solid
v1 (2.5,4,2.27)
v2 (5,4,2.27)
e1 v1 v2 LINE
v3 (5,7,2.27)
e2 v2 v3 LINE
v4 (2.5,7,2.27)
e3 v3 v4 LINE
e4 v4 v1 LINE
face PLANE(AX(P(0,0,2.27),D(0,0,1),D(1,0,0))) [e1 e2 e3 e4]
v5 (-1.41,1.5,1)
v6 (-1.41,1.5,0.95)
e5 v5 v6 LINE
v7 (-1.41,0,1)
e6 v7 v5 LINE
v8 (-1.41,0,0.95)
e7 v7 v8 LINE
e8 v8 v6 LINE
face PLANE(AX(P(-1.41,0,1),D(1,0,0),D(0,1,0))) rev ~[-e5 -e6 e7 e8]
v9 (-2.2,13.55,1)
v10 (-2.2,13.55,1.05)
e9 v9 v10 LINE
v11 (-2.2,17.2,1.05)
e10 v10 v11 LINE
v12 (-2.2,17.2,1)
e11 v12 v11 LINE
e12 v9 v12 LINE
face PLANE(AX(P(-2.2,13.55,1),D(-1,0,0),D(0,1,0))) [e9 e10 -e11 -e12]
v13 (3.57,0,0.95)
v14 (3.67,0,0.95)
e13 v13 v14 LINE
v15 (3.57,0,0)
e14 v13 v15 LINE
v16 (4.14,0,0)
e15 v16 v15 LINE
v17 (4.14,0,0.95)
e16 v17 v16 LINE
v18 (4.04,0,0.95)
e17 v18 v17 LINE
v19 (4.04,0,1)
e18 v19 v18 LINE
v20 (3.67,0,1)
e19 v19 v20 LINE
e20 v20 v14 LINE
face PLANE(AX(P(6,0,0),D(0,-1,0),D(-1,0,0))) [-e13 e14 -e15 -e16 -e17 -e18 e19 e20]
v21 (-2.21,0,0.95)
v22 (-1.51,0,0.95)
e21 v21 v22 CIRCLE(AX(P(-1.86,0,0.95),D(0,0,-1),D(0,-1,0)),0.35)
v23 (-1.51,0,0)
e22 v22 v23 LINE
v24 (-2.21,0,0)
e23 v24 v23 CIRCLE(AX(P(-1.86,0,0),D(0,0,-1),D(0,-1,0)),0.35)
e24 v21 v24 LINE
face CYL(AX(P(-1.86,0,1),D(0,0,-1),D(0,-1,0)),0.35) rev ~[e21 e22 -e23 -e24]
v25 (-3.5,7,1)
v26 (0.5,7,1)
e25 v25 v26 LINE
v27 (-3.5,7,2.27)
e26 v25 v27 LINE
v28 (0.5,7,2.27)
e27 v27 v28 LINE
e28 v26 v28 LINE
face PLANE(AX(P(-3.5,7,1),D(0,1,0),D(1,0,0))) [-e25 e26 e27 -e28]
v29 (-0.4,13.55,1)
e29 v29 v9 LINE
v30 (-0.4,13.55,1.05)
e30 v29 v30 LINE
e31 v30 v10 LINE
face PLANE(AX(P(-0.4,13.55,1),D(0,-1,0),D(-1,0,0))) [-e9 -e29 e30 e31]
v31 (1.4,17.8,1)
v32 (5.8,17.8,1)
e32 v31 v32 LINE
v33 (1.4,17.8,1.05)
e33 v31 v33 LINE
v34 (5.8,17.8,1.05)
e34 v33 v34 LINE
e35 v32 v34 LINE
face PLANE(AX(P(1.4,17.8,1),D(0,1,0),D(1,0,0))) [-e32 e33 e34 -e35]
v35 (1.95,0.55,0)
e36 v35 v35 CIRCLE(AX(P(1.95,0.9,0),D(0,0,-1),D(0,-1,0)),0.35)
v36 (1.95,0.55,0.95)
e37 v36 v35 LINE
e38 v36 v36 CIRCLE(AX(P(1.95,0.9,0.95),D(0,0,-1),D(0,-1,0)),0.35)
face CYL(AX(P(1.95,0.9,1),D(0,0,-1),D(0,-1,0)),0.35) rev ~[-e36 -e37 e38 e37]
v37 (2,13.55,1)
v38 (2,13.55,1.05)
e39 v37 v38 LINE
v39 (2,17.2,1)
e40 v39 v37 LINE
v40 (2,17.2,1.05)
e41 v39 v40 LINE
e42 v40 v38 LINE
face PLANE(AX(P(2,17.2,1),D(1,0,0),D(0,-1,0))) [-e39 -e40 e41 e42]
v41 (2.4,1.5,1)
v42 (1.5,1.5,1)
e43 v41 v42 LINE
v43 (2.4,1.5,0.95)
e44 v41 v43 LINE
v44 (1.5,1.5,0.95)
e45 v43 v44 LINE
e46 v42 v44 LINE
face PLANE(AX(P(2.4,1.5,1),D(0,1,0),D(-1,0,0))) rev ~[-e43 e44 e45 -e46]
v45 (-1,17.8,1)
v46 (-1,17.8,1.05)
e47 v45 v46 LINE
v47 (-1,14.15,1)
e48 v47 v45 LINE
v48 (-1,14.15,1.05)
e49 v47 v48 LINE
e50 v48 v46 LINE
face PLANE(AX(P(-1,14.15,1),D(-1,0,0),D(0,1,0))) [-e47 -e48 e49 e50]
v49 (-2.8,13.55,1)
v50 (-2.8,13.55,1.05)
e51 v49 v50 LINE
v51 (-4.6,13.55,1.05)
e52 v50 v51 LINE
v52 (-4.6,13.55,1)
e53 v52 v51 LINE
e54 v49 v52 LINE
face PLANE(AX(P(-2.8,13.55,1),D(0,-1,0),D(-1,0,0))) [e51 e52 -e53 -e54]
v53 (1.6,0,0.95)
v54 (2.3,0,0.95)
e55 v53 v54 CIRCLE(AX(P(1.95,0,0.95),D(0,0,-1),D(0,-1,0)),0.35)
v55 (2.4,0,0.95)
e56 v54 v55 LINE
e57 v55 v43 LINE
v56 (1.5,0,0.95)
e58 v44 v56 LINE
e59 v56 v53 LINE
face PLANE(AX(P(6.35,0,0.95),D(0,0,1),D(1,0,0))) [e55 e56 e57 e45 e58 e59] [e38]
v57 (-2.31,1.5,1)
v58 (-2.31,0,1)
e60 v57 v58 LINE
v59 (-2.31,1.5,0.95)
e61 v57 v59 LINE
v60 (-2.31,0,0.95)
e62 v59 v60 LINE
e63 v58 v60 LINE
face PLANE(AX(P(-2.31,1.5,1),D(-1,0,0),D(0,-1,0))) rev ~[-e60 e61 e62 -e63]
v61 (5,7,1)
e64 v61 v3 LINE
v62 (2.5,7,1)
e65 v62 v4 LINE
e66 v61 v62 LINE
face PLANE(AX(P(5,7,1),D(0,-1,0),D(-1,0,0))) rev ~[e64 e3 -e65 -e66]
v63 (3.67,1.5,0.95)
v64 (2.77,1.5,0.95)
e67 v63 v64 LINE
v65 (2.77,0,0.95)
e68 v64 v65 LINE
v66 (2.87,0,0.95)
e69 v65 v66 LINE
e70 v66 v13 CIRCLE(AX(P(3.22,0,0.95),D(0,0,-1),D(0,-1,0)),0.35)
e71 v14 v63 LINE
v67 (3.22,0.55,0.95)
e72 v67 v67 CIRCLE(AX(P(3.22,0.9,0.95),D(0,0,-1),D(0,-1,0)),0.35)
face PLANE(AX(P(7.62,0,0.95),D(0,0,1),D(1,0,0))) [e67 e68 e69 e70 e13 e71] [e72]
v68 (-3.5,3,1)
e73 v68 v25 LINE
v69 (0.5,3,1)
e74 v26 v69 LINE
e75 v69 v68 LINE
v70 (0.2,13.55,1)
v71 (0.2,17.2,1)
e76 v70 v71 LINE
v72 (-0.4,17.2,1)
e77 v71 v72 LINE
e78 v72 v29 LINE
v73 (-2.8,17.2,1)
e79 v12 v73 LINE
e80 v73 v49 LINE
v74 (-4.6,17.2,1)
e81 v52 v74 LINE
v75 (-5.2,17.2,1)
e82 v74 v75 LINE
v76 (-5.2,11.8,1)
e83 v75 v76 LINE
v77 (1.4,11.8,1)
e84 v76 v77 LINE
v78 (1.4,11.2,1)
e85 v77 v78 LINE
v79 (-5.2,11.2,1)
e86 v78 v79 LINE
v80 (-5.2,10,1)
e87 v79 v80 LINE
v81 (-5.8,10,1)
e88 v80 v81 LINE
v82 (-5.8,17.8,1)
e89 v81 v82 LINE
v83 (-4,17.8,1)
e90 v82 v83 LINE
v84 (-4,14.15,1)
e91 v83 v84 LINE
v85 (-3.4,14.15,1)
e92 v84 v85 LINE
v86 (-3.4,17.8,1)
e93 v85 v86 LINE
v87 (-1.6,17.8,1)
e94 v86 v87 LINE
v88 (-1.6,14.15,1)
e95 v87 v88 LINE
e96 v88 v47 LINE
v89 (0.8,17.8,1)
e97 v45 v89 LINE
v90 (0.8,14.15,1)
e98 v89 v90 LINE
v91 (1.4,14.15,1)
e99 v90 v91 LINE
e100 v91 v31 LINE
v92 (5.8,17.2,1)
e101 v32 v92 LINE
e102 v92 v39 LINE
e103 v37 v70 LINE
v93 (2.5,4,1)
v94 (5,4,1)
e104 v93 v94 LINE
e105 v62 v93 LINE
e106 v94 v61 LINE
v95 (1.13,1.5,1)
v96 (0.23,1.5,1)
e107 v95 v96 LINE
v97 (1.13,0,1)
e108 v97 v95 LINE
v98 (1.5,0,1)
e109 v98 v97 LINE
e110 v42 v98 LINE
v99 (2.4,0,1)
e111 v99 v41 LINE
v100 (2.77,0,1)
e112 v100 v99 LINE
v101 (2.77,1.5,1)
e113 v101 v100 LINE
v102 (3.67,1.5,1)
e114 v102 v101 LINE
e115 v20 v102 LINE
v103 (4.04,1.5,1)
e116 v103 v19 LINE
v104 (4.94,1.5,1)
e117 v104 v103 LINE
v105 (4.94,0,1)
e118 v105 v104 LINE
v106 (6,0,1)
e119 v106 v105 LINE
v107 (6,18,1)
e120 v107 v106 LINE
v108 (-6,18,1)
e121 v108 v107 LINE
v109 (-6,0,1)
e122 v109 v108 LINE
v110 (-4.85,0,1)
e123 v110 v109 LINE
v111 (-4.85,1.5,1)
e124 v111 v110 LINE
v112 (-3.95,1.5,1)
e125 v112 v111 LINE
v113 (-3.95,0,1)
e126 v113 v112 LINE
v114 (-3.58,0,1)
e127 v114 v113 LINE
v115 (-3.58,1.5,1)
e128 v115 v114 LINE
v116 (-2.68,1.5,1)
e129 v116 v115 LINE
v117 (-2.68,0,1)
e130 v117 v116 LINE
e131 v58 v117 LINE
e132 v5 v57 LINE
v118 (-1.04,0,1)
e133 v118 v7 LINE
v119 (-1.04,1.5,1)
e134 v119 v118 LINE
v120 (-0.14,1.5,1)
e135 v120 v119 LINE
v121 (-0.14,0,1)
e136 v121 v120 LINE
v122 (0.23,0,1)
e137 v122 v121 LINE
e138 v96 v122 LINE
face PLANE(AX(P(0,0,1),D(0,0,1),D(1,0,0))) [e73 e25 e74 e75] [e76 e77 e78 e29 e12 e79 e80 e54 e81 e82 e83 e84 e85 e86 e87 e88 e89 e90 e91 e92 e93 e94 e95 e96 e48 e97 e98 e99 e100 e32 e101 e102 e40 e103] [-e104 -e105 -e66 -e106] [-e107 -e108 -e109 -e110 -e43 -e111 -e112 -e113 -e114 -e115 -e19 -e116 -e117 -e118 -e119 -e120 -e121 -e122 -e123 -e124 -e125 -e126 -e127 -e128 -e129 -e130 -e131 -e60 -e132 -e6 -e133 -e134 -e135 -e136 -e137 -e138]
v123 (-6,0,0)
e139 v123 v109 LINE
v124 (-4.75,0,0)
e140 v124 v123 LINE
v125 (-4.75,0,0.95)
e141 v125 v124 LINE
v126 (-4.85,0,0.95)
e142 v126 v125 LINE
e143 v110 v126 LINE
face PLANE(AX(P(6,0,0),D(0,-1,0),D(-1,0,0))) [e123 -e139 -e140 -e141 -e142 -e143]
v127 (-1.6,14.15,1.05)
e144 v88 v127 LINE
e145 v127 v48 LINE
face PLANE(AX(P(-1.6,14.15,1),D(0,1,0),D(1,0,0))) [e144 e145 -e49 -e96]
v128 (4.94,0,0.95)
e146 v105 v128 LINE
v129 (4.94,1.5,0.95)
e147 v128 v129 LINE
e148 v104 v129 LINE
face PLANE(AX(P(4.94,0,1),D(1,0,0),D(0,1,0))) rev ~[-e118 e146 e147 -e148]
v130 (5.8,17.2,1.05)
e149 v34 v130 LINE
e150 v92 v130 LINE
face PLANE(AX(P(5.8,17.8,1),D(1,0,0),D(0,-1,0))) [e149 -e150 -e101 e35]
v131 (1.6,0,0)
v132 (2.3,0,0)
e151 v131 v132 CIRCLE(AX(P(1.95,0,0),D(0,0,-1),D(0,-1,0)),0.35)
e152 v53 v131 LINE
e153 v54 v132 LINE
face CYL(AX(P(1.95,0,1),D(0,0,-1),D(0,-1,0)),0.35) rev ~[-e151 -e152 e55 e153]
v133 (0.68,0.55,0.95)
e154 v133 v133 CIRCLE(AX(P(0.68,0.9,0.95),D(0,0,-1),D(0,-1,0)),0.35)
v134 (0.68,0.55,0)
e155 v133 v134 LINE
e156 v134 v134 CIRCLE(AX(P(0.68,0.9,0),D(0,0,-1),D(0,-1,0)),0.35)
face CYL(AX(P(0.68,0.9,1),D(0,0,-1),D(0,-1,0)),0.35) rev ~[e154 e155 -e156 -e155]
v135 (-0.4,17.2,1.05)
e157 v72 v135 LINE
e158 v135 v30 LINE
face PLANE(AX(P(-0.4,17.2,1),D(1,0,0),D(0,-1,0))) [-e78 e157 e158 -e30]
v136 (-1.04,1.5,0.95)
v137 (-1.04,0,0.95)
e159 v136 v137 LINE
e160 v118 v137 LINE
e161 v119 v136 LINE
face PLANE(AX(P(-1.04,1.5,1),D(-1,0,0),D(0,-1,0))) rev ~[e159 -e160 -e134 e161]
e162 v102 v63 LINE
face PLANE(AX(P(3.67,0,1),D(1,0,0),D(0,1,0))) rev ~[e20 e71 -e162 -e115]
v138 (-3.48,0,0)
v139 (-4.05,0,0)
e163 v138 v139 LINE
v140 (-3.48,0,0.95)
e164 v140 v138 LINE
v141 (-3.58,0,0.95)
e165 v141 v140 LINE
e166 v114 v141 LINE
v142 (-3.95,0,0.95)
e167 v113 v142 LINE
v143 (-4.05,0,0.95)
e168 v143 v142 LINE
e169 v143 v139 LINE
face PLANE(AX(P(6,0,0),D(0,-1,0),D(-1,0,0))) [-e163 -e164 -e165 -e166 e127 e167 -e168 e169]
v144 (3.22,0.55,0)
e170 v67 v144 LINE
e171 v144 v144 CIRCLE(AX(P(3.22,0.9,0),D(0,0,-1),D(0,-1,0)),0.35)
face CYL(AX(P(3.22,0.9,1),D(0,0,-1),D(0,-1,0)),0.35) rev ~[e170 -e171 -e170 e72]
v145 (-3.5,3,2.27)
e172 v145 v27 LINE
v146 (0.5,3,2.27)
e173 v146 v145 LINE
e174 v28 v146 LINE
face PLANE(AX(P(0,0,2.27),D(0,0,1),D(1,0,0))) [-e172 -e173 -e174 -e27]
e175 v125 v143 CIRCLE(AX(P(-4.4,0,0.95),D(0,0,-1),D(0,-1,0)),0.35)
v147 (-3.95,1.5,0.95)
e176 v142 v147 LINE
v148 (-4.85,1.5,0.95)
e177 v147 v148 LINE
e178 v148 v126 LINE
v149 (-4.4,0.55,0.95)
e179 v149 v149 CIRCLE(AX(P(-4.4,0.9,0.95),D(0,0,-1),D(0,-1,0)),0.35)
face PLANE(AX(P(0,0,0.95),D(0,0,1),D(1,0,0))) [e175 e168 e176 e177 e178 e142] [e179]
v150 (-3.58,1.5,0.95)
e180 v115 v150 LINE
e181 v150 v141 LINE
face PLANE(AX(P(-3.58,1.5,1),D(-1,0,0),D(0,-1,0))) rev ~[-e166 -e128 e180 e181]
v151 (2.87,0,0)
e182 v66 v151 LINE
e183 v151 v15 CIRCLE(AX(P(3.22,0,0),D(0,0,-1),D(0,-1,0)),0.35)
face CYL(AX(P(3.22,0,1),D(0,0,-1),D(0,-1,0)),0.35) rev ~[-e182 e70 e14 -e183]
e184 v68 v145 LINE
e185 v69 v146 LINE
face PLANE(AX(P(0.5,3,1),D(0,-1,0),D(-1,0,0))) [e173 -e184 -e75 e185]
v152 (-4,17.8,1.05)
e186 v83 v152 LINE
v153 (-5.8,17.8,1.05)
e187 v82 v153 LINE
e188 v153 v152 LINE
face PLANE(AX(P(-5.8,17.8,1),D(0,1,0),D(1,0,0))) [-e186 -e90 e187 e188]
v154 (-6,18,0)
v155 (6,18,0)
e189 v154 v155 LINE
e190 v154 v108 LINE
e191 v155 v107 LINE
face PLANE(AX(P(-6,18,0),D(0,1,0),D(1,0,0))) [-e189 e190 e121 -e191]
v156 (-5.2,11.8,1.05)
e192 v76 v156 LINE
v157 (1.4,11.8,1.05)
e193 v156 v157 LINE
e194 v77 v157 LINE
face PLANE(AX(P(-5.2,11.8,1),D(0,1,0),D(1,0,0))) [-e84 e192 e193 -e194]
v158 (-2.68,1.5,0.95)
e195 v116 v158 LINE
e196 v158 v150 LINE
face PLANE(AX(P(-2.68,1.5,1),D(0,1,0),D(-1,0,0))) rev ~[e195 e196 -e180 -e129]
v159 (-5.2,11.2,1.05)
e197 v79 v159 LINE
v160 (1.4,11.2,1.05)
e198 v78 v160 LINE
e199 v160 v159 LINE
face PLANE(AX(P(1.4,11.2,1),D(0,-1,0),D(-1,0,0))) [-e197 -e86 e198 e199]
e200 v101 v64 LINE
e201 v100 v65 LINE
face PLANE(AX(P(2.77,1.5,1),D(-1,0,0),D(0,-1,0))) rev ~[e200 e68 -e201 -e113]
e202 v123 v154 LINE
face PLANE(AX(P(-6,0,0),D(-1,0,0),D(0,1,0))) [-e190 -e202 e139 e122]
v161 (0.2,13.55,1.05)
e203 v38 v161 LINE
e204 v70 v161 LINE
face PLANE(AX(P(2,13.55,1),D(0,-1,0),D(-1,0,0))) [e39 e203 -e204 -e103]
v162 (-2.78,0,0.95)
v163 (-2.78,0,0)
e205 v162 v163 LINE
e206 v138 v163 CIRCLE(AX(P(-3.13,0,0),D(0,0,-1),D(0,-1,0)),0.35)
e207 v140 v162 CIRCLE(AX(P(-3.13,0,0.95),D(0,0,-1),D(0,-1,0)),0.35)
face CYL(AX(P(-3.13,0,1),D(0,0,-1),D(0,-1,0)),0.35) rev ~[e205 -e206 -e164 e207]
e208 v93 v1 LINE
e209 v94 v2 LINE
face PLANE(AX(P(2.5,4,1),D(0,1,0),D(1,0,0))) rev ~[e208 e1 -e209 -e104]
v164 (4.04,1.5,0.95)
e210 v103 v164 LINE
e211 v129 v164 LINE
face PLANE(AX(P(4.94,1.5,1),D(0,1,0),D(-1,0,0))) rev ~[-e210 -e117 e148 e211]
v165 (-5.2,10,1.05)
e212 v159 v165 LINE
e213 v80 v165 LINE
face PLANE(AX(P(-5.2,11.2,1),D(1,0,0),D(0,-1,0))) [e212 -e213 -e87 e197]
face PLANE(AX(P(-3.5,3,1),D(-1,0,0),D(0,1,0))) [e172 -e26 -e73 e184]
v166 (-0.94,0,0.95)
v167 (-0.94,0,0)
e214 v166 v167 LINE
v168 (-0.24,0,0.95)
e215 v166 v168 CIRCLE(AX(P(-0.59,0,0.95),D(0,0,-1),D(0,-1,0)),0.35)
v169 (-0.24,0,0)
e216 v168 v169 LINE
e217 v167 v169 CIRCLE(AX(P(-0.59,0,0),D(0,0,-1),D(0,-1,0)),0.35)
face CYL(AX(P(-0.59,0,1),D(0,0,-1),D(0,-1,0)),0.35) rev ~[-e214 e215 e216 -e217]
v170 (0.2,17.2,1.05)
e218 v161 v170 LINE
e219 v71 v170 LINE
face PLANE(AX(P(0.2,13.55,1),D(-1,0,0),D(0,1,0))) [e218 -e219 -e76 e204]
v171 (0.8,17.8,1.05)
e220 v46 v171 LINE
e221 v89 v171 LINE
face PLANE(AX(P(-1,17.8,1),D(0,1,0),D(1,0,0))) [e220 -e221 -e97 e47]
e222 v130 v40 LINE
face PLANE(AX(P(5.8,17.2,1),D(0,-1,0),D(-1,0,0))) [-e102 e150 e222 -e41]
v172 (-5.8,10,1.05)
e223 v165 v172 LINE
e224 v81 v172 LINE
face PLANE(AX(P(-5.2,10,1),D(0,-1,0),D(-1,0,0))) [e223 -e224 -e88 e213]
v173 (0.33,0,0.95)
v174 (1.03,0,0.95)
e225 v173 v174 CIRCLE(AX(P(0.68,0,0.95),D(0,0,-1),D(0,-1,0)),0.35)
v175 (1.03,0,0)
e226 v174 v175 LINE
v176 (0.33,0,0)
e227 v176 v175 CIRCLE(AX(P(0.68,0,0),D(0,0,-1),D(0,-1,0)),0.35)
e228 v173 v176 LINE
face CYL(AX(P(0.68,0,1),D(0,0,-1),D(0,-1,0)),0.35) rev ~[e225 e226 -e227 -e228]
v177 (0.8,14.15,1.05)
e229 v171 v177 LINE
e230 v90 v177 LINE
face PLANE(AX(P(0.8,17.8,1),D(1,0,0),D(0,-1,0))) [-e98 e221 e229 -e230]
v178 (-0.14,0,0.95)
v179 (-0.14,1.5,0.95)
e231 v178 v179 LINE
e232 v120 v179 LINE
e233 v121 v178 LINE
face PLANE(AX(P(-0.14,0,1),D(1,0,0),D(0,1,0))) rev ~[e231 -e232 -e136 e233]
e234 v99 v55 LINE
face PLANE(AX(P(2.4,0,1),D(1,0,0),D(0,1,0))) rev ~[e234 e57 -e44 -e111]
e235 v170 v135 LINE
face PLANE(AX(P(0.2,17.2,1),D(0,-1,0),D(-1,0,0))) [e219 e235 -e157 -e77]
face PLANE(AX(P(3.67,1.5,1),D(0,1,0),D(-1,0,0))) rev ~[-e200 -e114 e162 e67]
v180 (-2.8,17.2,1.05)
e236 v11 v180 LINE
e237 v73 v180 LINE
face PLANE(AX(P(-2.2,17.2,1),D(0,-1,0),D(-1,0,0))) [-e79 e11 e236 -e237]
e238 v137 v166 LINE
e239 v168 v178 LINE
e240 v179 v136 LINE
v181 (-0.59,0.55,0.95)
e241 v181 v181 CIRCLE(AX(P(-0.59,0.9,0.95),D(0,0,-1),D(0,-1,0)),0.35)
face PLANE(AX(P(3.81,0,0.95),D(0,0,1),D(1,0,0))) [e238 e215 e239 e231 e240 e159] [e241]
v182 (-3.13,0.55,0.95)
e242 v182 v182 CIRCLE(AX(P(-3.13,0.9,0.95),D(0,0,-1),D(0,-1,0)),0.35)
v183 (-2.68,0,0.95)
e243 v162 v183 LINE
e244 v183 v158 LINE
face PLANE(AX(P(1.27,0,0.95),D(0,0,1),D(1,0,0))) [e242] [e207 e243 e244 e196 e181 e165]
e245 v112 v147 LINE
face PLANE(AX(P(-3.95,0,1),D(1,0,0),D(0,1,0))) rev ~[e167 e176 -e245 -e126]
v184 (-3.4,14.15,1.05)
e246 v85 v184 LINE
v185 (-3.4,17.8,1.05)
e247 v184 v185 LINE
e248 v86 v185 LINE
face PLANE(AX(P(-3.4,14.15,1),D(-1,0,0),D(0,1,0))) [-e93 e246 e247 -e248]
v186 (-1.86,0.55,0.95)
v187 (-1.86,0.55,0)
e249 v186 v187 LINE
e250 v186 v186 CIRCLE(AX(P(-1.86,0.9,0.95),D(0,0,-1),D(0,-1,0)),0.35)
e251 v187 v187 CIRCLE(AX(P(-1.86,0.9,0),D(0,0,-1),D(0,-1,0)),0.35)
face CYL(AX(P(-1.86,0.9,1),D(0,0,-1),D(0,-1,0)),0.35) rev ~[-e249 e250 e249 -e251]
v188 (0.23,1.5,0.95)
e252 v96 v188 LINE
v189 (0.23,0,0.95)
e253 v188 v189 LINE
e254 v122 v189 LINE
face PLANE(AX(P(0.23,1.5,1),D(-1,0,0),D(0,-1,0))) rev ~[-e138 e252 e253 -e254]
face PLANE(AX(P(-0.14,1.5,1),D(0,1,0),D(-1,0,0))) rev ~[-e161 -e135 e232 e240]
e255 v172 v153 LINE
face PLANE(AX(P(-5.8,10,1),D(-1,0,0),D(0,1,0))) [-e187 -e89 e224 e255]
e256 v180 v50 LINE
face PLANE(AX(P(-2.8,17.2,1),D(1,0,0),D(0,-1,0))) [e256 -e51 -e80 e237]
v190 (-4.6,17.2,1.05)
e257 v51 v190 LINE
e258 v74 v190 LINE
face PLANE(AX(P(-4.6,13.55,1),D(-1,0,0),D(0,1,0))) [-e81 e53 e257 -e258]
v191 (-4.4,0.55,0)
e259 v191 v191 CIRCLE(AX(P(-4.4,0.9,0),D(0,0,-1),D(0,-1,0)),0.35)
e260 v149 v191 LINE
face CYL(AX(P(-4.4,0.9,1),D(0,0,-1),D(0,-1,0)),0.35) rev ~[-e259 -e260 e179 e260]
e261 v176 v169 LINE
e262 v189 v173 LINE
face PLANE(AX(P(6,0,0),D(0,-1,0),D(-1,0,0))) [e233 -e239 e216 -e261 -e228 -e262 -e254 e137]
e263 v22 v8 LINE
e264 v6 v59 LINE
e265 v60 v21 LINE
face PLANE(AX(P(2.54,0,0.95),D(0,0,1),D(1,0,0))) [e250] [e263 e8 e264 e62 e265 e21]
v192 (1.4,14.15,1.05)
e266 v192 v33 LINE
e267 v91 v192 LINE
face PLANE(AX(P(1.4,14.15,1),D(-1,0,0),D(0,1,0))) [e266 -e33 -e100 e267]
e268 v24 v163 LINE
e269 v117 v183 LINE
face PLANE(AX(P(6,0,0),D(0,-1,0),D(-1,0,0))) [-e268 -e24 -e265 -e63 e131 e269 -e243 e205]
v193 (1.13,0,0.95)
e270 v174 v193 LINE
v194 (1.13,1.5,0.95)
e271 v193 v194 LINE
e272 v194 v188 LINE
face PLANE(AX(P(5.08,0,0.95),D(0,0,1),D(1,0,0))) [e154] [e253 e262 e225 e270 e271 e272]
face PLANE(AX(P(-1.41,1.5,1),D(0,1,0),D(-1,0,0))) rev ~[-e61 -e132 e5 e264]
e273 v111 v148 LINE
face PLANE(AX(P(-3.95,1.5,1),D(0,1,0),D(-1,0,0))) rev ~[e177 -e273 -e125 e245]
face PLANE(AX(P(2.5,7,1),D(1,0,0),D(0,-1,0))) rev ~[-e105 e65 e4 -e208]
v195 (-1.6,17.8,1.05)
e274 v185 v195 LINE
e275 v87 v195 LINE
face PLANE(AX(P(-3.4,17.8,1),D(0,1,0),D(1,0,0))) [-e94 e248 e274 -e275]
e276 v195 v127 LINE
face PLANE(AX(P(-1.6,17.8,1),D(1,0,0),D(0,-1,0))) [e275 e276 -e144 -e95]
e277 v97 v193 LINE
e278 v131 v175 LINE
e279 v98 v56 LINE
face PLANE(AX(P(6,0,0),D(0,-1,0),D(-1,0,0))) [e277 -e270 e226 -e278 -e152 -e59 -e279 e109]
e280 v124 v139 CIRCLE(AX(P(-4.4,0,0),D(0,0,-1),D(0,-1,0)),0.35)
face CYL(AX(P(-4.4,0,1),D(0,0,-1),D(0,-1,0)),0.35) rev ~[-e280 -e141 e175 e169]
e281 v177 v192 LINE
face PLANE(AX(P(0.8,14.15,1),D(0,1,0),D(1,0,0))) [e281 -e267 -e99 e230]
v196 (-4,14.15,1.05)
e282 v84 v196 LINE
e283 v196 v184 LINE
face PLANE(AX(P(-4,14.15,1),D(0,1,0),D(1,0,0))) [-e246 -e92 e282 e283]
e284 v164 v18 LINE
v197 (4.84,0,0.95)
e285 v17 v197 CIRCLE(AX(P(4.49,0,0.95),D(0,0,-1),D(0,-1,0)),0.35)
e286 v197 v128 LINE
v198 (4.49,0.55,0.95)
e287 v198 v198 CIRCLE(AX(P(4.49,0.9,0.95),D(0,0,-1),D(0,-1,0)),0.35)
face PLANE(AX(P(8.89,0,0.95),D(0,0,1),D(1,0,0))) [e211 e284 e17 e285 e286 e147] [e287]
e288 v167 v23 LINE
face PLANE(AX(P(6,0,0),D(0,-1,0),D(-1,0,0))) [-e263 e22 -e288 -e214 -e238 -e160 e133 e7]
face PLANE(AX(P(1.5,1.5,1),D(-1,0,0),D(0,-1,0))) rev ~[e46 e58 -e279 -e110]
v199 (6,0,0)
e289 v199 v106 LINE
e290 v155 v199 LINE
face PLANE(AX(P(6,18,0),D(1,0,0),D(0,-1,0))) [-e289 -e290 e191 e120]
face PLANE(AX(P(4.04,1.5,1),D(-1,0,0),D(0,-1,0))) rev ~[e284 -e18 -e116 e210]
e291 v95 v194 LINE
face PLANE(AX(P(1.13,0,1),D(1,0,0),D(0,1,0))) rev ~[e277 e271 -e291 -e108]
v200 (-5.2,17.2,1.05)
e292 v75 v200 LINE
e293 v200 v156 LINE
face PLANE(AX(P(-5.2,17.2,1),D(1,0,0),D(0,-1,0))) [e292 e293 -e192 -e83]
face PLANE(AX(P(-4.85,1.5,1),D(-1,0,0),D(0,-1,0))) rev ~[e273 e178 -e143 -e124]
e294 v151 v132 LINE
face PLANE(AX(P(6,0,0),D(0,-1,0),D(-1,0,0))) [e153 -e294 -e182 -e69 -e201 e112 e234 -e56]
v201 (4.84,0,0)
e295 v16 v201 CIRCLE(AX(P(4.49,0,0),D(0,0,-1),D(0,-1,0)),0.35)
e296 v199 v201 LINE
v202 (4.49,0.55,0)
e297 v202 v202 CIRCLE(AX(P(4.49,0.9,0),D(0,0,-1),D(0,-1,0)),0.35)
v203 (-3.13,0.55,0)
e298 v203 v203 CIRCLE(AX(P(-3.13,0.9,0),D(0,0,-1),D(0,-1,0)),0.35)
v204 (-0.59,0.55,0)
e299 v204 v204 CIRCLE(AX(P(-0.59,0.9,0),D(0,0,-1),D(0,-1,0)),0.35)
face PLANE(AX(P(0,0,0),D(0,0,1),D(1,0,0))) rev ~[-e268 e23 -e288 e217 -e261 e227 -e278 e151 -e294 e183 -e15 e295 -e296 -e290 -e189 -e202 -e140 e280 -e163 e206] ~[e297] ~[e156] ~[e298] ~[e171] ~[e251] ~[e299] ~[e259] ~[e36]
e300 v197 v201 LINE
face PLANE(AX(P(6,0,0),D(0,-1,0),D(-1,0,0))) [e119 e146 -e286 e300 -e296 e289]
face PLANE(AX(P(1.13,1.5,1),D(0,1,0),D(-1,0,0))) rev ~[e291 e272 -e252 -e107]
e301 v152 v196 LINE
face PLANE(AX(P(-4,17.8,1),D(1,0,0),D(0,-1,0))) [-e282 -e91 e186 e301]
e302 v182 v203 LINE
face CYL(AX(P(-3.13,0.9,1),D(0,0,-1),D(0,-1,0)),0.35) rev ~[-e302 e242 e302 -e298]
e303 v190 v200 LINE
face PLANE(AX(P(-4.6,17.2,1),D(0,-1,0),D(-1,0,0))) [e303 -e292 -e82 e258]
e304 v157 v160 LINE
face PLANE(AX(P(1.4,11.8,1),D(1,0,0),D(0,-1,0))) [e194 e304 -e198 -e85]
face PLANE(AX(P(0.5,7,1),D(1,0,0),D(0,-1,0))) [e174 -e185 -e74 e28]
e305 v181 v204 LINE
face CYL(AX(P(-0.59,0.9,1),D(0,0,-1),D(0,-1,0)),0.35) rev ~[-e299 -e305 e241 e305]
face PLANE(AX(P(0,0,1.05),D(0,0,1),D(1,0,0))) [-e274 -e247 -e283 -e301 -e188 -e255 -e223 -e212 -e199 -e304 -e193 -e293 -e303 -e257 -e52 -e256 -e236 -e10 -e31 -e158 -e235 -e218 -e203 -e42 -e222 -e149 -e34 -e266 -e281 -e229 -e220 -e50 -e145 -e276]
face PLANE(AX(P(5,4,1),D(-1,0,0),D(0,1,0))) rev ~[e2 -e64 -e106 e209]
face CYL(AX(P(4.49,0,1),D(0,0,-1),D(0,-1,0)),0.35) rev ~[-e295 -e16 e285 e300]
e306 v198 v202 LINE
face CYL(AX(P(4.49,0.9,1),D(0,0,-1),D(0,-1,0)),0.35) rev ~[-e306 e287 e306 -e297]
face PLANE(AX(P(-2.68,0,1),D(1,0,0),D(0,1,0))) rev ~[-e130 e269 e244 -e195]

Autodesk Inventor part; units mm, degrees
ref_plane "YZ Plane" through (0, 0, 0) normal (1, 0, 0) x (0, 1, 0)
ref_plane "XZ Plane" through (0, 0, 0) normal (0, 1, 0) x (-1, 0, 0)
ref_plane "XY Plane" through (0, 0, 0) normal (0, 0, 1) x (1, 0, 0)
sketch "Skizze1" plane through (0, 0, 0) normal (0, 0, 1) x (1, 0, 0)
  line L0 (-6, 18) -> (6, 18)
  line L1 (6, 18) -> (6, 0)
  line L2 (6, 0) -> (-6, 0)
  line L3 (-6, 0) -> (-6, 18)
  point P0 (0, 0)
  point P1 (0, 0)
  dimension "d0" = 12
  dimension "d1" = 18
extrude "Extrusion1" add sketch "Skizze1" along normal blind 1
sketch "Skizze2" plane through (0, 0, 1) normal (0, 0, 1) x (1, 0, 0)
  line L0 (-4.85, 0) -> (-3.95, 0)
  line L1 (-3.95, 0) -> (-3.95, 1.5)
  line L2 (-3.95, 1.5) -> (-4.85, 1.5)
  line L3 (-4.85, 1.5) -> (-4.85, 0)
  line L4 (-4.4, 1.5) -> (-4.4, 0) construction
  line L5 (-6, 18) -> (-6, 0) construction
  circle A0 centre (-4.4, 0.9) radius 0.35 construction
  circle A1 centre (-4.4, 0) radius 0.35 construction
  point P0 (0, 0)
  dimension "d4" = 1.6
  dimension "d5" = 0.9
  dimension "d6" = 0.7
  dimension "d7" = 0.9
  dimension "d8" = 1.5
extrude "Extrusion2" cut sketch "Skizze2" against normal blind 0.05
hole "Bohrung1" at (-4.4, 0.9, 1) at (-4.4, 0, 1) direction (0, 0, -1) diameter 0.7 end through all
pattern_linear "Rechteckige Anordnung1" count 8 spacing 1.27 along (1, 0, 0) of "Extrusion2", "Bohrung1"
sketch "Skizze3" plane through (0, 0, 1) normal (0, 0, 1) x (1, 0, 0)
  line L0 (-5.8, 10) -> (-5.8, 17.8)
  line L1 (-5.8, 17.8) -> (-4, 17.8)
  line L2 (-4, 17.8) -> (-4, 14.15)
  line L3 (-4, 14.15) -> (-3.4, 14.15)
  line L4 (-3.4, 14.15) -> (-3.4, 17.8)
  line L5 (-3.4, 17.8) -> (-1.6, 17.8)
  line L6 (-1.6, 17.8) -> (-1.6, 14.15)
  line L7 (-1.6, 14.15) -> (-1, 14.15)
  line L8 (-1, 14.15) -> (-1, 17.8)
  line L9 (-1, 17.8) -> (0.8, 17.8)
  line L10 (0.8, 17.8) -> (0.8, 14.15)
  line L11 (0.8, 14.15) -> (1.4, 14.15)
  line L12 (1.4, 14.15) -> (1.4, 17.8)
  line L13 (1.4, 17.8) -> (5.8, 17.8)
  line L14 (5.8, 17.8) -> (5.8, 17.2)
  line L15 (5.8, 17.2) -> (2, 17.2)
  line L16 (2, 17.2) -> (2, 13.55)
  line L17 (2, 13.55) -> (0.2, 13.55)
  line L18 (0.2, 13.55) -> (0.2, 17.2)
  line L19 (0.2, 17.2) -> (-0.4, 17.2)
  line L20 (-0.4, 17.2) -> (-0.4, 13.55)
  line L21 (-0.4, 13.55) -> (-2.2, 13.55)
  line L22 (-2.2, 13.55) -> (-2.2, 17.2)
  line L23 (-2.2, 17.2) -> (-2.8, 17.2)
  line L24 (-2.8, 17.2) -> (-2.8, 13.55)
  line L25 (-2.8, 13.55) -> (-4.6, 13.55)
  line L26 (-4.6, 13.55) -> (-4.6, 17.2)
  line L27 (-4.6, 17.2) -> (-5.2, 17.2)
  line L28 (-5.2, 17.2) -> (-5.2, 11.8)
  line L29 (-5.2, 11.8) -> (1.4, 11.8)
  line L30 (1.4, 11.8) -> (1.4, 11.2)
  line L31 (1.4, 11.2) -> (-5.2, 11.2)
  line L32 (-5.2, 11.2) -> (-5.2, 10)
  line L33 (-5.2, 10) -> (-5.8, 10)
  line L34 (-6, 18) -> (-6, 0) projected
  line L35 (6, 0) -> (6, 18) projected
  point P0 (0, 0)
  point P1 (1.4, 11.5)
  dimension "d21" = 0.2
  dimension "d22" = 0.2
  dimension "d23" = 0.2
  dimension "d24" = 11.5
  dimension "d25" = 0.6
  dimension "d26" = 0.6
  dimension "d27" = 0.6
  dimension "d28" = 0.6
  dimension "d29" = 0.6
  dimension "d30" = 0.6
  dimension "d31" = 4.25
  dimension "d32" = 0
  dimension "d33" = 10
extrude "Extrusion3" add sketch "Skizze3" along normal blind 0.05
sketch "Skizze4" plane through (0, 0, 1) normal (0, 0, 1) x (1, 0, 0)
  line L0 (-3.5, 7) -> (0.5, 7)
  line L1 (0.5, 7) -> (0.5, 3)
  line L2 (0.5, 3) -> (-3.5, 3)
  line L3 (-3.5, 3) -> (-3.5, 7)
  line L4 (-6, 18) -> (-6, 0) projected
  point P0 (0, 0)
  dimension "d36" = 3
  dimension "d37" = 2.5
  dimension "d38" = 4
  dimension "d39" = 4
extrude "Extrusion4" add sketch "Skizze4" along normal blind 1.27
sketch "Skizze5" plane through (0, 0, 1) normal (0, 0, 1) x (1, 0, 0)
  line L0 (5, 7) -> (2.5, 7)
  line L1 (2.5, 7) -> (2.5, 4)
  line L2 (2.5, 4) -> (5, 4)
  line L3 (5, 4) -> (5, 7)
  line L4 (6, 0) -> (6, 18) projected
  point P0 (0, 0)
  dimension "d42" = 3
  dimension "d43" = 2.5
  dimension "d44" = 4
  dimension "d45" = 1
extrude "Extrusion5" add sketch "Skizze5" along normal blind 1.27
equation "\"d11\" = d6"
equation "\"d22\" = d21"
equation "\"d23\" = d21"
equation "\"d26\" = d25"
equation "\"d27\" = d25"
equation "\"d28\" = d25"
equation "\"d29\" = d27"
equation "\"d30\" = d29"
properties part number "nRF24L01+_SMD"
